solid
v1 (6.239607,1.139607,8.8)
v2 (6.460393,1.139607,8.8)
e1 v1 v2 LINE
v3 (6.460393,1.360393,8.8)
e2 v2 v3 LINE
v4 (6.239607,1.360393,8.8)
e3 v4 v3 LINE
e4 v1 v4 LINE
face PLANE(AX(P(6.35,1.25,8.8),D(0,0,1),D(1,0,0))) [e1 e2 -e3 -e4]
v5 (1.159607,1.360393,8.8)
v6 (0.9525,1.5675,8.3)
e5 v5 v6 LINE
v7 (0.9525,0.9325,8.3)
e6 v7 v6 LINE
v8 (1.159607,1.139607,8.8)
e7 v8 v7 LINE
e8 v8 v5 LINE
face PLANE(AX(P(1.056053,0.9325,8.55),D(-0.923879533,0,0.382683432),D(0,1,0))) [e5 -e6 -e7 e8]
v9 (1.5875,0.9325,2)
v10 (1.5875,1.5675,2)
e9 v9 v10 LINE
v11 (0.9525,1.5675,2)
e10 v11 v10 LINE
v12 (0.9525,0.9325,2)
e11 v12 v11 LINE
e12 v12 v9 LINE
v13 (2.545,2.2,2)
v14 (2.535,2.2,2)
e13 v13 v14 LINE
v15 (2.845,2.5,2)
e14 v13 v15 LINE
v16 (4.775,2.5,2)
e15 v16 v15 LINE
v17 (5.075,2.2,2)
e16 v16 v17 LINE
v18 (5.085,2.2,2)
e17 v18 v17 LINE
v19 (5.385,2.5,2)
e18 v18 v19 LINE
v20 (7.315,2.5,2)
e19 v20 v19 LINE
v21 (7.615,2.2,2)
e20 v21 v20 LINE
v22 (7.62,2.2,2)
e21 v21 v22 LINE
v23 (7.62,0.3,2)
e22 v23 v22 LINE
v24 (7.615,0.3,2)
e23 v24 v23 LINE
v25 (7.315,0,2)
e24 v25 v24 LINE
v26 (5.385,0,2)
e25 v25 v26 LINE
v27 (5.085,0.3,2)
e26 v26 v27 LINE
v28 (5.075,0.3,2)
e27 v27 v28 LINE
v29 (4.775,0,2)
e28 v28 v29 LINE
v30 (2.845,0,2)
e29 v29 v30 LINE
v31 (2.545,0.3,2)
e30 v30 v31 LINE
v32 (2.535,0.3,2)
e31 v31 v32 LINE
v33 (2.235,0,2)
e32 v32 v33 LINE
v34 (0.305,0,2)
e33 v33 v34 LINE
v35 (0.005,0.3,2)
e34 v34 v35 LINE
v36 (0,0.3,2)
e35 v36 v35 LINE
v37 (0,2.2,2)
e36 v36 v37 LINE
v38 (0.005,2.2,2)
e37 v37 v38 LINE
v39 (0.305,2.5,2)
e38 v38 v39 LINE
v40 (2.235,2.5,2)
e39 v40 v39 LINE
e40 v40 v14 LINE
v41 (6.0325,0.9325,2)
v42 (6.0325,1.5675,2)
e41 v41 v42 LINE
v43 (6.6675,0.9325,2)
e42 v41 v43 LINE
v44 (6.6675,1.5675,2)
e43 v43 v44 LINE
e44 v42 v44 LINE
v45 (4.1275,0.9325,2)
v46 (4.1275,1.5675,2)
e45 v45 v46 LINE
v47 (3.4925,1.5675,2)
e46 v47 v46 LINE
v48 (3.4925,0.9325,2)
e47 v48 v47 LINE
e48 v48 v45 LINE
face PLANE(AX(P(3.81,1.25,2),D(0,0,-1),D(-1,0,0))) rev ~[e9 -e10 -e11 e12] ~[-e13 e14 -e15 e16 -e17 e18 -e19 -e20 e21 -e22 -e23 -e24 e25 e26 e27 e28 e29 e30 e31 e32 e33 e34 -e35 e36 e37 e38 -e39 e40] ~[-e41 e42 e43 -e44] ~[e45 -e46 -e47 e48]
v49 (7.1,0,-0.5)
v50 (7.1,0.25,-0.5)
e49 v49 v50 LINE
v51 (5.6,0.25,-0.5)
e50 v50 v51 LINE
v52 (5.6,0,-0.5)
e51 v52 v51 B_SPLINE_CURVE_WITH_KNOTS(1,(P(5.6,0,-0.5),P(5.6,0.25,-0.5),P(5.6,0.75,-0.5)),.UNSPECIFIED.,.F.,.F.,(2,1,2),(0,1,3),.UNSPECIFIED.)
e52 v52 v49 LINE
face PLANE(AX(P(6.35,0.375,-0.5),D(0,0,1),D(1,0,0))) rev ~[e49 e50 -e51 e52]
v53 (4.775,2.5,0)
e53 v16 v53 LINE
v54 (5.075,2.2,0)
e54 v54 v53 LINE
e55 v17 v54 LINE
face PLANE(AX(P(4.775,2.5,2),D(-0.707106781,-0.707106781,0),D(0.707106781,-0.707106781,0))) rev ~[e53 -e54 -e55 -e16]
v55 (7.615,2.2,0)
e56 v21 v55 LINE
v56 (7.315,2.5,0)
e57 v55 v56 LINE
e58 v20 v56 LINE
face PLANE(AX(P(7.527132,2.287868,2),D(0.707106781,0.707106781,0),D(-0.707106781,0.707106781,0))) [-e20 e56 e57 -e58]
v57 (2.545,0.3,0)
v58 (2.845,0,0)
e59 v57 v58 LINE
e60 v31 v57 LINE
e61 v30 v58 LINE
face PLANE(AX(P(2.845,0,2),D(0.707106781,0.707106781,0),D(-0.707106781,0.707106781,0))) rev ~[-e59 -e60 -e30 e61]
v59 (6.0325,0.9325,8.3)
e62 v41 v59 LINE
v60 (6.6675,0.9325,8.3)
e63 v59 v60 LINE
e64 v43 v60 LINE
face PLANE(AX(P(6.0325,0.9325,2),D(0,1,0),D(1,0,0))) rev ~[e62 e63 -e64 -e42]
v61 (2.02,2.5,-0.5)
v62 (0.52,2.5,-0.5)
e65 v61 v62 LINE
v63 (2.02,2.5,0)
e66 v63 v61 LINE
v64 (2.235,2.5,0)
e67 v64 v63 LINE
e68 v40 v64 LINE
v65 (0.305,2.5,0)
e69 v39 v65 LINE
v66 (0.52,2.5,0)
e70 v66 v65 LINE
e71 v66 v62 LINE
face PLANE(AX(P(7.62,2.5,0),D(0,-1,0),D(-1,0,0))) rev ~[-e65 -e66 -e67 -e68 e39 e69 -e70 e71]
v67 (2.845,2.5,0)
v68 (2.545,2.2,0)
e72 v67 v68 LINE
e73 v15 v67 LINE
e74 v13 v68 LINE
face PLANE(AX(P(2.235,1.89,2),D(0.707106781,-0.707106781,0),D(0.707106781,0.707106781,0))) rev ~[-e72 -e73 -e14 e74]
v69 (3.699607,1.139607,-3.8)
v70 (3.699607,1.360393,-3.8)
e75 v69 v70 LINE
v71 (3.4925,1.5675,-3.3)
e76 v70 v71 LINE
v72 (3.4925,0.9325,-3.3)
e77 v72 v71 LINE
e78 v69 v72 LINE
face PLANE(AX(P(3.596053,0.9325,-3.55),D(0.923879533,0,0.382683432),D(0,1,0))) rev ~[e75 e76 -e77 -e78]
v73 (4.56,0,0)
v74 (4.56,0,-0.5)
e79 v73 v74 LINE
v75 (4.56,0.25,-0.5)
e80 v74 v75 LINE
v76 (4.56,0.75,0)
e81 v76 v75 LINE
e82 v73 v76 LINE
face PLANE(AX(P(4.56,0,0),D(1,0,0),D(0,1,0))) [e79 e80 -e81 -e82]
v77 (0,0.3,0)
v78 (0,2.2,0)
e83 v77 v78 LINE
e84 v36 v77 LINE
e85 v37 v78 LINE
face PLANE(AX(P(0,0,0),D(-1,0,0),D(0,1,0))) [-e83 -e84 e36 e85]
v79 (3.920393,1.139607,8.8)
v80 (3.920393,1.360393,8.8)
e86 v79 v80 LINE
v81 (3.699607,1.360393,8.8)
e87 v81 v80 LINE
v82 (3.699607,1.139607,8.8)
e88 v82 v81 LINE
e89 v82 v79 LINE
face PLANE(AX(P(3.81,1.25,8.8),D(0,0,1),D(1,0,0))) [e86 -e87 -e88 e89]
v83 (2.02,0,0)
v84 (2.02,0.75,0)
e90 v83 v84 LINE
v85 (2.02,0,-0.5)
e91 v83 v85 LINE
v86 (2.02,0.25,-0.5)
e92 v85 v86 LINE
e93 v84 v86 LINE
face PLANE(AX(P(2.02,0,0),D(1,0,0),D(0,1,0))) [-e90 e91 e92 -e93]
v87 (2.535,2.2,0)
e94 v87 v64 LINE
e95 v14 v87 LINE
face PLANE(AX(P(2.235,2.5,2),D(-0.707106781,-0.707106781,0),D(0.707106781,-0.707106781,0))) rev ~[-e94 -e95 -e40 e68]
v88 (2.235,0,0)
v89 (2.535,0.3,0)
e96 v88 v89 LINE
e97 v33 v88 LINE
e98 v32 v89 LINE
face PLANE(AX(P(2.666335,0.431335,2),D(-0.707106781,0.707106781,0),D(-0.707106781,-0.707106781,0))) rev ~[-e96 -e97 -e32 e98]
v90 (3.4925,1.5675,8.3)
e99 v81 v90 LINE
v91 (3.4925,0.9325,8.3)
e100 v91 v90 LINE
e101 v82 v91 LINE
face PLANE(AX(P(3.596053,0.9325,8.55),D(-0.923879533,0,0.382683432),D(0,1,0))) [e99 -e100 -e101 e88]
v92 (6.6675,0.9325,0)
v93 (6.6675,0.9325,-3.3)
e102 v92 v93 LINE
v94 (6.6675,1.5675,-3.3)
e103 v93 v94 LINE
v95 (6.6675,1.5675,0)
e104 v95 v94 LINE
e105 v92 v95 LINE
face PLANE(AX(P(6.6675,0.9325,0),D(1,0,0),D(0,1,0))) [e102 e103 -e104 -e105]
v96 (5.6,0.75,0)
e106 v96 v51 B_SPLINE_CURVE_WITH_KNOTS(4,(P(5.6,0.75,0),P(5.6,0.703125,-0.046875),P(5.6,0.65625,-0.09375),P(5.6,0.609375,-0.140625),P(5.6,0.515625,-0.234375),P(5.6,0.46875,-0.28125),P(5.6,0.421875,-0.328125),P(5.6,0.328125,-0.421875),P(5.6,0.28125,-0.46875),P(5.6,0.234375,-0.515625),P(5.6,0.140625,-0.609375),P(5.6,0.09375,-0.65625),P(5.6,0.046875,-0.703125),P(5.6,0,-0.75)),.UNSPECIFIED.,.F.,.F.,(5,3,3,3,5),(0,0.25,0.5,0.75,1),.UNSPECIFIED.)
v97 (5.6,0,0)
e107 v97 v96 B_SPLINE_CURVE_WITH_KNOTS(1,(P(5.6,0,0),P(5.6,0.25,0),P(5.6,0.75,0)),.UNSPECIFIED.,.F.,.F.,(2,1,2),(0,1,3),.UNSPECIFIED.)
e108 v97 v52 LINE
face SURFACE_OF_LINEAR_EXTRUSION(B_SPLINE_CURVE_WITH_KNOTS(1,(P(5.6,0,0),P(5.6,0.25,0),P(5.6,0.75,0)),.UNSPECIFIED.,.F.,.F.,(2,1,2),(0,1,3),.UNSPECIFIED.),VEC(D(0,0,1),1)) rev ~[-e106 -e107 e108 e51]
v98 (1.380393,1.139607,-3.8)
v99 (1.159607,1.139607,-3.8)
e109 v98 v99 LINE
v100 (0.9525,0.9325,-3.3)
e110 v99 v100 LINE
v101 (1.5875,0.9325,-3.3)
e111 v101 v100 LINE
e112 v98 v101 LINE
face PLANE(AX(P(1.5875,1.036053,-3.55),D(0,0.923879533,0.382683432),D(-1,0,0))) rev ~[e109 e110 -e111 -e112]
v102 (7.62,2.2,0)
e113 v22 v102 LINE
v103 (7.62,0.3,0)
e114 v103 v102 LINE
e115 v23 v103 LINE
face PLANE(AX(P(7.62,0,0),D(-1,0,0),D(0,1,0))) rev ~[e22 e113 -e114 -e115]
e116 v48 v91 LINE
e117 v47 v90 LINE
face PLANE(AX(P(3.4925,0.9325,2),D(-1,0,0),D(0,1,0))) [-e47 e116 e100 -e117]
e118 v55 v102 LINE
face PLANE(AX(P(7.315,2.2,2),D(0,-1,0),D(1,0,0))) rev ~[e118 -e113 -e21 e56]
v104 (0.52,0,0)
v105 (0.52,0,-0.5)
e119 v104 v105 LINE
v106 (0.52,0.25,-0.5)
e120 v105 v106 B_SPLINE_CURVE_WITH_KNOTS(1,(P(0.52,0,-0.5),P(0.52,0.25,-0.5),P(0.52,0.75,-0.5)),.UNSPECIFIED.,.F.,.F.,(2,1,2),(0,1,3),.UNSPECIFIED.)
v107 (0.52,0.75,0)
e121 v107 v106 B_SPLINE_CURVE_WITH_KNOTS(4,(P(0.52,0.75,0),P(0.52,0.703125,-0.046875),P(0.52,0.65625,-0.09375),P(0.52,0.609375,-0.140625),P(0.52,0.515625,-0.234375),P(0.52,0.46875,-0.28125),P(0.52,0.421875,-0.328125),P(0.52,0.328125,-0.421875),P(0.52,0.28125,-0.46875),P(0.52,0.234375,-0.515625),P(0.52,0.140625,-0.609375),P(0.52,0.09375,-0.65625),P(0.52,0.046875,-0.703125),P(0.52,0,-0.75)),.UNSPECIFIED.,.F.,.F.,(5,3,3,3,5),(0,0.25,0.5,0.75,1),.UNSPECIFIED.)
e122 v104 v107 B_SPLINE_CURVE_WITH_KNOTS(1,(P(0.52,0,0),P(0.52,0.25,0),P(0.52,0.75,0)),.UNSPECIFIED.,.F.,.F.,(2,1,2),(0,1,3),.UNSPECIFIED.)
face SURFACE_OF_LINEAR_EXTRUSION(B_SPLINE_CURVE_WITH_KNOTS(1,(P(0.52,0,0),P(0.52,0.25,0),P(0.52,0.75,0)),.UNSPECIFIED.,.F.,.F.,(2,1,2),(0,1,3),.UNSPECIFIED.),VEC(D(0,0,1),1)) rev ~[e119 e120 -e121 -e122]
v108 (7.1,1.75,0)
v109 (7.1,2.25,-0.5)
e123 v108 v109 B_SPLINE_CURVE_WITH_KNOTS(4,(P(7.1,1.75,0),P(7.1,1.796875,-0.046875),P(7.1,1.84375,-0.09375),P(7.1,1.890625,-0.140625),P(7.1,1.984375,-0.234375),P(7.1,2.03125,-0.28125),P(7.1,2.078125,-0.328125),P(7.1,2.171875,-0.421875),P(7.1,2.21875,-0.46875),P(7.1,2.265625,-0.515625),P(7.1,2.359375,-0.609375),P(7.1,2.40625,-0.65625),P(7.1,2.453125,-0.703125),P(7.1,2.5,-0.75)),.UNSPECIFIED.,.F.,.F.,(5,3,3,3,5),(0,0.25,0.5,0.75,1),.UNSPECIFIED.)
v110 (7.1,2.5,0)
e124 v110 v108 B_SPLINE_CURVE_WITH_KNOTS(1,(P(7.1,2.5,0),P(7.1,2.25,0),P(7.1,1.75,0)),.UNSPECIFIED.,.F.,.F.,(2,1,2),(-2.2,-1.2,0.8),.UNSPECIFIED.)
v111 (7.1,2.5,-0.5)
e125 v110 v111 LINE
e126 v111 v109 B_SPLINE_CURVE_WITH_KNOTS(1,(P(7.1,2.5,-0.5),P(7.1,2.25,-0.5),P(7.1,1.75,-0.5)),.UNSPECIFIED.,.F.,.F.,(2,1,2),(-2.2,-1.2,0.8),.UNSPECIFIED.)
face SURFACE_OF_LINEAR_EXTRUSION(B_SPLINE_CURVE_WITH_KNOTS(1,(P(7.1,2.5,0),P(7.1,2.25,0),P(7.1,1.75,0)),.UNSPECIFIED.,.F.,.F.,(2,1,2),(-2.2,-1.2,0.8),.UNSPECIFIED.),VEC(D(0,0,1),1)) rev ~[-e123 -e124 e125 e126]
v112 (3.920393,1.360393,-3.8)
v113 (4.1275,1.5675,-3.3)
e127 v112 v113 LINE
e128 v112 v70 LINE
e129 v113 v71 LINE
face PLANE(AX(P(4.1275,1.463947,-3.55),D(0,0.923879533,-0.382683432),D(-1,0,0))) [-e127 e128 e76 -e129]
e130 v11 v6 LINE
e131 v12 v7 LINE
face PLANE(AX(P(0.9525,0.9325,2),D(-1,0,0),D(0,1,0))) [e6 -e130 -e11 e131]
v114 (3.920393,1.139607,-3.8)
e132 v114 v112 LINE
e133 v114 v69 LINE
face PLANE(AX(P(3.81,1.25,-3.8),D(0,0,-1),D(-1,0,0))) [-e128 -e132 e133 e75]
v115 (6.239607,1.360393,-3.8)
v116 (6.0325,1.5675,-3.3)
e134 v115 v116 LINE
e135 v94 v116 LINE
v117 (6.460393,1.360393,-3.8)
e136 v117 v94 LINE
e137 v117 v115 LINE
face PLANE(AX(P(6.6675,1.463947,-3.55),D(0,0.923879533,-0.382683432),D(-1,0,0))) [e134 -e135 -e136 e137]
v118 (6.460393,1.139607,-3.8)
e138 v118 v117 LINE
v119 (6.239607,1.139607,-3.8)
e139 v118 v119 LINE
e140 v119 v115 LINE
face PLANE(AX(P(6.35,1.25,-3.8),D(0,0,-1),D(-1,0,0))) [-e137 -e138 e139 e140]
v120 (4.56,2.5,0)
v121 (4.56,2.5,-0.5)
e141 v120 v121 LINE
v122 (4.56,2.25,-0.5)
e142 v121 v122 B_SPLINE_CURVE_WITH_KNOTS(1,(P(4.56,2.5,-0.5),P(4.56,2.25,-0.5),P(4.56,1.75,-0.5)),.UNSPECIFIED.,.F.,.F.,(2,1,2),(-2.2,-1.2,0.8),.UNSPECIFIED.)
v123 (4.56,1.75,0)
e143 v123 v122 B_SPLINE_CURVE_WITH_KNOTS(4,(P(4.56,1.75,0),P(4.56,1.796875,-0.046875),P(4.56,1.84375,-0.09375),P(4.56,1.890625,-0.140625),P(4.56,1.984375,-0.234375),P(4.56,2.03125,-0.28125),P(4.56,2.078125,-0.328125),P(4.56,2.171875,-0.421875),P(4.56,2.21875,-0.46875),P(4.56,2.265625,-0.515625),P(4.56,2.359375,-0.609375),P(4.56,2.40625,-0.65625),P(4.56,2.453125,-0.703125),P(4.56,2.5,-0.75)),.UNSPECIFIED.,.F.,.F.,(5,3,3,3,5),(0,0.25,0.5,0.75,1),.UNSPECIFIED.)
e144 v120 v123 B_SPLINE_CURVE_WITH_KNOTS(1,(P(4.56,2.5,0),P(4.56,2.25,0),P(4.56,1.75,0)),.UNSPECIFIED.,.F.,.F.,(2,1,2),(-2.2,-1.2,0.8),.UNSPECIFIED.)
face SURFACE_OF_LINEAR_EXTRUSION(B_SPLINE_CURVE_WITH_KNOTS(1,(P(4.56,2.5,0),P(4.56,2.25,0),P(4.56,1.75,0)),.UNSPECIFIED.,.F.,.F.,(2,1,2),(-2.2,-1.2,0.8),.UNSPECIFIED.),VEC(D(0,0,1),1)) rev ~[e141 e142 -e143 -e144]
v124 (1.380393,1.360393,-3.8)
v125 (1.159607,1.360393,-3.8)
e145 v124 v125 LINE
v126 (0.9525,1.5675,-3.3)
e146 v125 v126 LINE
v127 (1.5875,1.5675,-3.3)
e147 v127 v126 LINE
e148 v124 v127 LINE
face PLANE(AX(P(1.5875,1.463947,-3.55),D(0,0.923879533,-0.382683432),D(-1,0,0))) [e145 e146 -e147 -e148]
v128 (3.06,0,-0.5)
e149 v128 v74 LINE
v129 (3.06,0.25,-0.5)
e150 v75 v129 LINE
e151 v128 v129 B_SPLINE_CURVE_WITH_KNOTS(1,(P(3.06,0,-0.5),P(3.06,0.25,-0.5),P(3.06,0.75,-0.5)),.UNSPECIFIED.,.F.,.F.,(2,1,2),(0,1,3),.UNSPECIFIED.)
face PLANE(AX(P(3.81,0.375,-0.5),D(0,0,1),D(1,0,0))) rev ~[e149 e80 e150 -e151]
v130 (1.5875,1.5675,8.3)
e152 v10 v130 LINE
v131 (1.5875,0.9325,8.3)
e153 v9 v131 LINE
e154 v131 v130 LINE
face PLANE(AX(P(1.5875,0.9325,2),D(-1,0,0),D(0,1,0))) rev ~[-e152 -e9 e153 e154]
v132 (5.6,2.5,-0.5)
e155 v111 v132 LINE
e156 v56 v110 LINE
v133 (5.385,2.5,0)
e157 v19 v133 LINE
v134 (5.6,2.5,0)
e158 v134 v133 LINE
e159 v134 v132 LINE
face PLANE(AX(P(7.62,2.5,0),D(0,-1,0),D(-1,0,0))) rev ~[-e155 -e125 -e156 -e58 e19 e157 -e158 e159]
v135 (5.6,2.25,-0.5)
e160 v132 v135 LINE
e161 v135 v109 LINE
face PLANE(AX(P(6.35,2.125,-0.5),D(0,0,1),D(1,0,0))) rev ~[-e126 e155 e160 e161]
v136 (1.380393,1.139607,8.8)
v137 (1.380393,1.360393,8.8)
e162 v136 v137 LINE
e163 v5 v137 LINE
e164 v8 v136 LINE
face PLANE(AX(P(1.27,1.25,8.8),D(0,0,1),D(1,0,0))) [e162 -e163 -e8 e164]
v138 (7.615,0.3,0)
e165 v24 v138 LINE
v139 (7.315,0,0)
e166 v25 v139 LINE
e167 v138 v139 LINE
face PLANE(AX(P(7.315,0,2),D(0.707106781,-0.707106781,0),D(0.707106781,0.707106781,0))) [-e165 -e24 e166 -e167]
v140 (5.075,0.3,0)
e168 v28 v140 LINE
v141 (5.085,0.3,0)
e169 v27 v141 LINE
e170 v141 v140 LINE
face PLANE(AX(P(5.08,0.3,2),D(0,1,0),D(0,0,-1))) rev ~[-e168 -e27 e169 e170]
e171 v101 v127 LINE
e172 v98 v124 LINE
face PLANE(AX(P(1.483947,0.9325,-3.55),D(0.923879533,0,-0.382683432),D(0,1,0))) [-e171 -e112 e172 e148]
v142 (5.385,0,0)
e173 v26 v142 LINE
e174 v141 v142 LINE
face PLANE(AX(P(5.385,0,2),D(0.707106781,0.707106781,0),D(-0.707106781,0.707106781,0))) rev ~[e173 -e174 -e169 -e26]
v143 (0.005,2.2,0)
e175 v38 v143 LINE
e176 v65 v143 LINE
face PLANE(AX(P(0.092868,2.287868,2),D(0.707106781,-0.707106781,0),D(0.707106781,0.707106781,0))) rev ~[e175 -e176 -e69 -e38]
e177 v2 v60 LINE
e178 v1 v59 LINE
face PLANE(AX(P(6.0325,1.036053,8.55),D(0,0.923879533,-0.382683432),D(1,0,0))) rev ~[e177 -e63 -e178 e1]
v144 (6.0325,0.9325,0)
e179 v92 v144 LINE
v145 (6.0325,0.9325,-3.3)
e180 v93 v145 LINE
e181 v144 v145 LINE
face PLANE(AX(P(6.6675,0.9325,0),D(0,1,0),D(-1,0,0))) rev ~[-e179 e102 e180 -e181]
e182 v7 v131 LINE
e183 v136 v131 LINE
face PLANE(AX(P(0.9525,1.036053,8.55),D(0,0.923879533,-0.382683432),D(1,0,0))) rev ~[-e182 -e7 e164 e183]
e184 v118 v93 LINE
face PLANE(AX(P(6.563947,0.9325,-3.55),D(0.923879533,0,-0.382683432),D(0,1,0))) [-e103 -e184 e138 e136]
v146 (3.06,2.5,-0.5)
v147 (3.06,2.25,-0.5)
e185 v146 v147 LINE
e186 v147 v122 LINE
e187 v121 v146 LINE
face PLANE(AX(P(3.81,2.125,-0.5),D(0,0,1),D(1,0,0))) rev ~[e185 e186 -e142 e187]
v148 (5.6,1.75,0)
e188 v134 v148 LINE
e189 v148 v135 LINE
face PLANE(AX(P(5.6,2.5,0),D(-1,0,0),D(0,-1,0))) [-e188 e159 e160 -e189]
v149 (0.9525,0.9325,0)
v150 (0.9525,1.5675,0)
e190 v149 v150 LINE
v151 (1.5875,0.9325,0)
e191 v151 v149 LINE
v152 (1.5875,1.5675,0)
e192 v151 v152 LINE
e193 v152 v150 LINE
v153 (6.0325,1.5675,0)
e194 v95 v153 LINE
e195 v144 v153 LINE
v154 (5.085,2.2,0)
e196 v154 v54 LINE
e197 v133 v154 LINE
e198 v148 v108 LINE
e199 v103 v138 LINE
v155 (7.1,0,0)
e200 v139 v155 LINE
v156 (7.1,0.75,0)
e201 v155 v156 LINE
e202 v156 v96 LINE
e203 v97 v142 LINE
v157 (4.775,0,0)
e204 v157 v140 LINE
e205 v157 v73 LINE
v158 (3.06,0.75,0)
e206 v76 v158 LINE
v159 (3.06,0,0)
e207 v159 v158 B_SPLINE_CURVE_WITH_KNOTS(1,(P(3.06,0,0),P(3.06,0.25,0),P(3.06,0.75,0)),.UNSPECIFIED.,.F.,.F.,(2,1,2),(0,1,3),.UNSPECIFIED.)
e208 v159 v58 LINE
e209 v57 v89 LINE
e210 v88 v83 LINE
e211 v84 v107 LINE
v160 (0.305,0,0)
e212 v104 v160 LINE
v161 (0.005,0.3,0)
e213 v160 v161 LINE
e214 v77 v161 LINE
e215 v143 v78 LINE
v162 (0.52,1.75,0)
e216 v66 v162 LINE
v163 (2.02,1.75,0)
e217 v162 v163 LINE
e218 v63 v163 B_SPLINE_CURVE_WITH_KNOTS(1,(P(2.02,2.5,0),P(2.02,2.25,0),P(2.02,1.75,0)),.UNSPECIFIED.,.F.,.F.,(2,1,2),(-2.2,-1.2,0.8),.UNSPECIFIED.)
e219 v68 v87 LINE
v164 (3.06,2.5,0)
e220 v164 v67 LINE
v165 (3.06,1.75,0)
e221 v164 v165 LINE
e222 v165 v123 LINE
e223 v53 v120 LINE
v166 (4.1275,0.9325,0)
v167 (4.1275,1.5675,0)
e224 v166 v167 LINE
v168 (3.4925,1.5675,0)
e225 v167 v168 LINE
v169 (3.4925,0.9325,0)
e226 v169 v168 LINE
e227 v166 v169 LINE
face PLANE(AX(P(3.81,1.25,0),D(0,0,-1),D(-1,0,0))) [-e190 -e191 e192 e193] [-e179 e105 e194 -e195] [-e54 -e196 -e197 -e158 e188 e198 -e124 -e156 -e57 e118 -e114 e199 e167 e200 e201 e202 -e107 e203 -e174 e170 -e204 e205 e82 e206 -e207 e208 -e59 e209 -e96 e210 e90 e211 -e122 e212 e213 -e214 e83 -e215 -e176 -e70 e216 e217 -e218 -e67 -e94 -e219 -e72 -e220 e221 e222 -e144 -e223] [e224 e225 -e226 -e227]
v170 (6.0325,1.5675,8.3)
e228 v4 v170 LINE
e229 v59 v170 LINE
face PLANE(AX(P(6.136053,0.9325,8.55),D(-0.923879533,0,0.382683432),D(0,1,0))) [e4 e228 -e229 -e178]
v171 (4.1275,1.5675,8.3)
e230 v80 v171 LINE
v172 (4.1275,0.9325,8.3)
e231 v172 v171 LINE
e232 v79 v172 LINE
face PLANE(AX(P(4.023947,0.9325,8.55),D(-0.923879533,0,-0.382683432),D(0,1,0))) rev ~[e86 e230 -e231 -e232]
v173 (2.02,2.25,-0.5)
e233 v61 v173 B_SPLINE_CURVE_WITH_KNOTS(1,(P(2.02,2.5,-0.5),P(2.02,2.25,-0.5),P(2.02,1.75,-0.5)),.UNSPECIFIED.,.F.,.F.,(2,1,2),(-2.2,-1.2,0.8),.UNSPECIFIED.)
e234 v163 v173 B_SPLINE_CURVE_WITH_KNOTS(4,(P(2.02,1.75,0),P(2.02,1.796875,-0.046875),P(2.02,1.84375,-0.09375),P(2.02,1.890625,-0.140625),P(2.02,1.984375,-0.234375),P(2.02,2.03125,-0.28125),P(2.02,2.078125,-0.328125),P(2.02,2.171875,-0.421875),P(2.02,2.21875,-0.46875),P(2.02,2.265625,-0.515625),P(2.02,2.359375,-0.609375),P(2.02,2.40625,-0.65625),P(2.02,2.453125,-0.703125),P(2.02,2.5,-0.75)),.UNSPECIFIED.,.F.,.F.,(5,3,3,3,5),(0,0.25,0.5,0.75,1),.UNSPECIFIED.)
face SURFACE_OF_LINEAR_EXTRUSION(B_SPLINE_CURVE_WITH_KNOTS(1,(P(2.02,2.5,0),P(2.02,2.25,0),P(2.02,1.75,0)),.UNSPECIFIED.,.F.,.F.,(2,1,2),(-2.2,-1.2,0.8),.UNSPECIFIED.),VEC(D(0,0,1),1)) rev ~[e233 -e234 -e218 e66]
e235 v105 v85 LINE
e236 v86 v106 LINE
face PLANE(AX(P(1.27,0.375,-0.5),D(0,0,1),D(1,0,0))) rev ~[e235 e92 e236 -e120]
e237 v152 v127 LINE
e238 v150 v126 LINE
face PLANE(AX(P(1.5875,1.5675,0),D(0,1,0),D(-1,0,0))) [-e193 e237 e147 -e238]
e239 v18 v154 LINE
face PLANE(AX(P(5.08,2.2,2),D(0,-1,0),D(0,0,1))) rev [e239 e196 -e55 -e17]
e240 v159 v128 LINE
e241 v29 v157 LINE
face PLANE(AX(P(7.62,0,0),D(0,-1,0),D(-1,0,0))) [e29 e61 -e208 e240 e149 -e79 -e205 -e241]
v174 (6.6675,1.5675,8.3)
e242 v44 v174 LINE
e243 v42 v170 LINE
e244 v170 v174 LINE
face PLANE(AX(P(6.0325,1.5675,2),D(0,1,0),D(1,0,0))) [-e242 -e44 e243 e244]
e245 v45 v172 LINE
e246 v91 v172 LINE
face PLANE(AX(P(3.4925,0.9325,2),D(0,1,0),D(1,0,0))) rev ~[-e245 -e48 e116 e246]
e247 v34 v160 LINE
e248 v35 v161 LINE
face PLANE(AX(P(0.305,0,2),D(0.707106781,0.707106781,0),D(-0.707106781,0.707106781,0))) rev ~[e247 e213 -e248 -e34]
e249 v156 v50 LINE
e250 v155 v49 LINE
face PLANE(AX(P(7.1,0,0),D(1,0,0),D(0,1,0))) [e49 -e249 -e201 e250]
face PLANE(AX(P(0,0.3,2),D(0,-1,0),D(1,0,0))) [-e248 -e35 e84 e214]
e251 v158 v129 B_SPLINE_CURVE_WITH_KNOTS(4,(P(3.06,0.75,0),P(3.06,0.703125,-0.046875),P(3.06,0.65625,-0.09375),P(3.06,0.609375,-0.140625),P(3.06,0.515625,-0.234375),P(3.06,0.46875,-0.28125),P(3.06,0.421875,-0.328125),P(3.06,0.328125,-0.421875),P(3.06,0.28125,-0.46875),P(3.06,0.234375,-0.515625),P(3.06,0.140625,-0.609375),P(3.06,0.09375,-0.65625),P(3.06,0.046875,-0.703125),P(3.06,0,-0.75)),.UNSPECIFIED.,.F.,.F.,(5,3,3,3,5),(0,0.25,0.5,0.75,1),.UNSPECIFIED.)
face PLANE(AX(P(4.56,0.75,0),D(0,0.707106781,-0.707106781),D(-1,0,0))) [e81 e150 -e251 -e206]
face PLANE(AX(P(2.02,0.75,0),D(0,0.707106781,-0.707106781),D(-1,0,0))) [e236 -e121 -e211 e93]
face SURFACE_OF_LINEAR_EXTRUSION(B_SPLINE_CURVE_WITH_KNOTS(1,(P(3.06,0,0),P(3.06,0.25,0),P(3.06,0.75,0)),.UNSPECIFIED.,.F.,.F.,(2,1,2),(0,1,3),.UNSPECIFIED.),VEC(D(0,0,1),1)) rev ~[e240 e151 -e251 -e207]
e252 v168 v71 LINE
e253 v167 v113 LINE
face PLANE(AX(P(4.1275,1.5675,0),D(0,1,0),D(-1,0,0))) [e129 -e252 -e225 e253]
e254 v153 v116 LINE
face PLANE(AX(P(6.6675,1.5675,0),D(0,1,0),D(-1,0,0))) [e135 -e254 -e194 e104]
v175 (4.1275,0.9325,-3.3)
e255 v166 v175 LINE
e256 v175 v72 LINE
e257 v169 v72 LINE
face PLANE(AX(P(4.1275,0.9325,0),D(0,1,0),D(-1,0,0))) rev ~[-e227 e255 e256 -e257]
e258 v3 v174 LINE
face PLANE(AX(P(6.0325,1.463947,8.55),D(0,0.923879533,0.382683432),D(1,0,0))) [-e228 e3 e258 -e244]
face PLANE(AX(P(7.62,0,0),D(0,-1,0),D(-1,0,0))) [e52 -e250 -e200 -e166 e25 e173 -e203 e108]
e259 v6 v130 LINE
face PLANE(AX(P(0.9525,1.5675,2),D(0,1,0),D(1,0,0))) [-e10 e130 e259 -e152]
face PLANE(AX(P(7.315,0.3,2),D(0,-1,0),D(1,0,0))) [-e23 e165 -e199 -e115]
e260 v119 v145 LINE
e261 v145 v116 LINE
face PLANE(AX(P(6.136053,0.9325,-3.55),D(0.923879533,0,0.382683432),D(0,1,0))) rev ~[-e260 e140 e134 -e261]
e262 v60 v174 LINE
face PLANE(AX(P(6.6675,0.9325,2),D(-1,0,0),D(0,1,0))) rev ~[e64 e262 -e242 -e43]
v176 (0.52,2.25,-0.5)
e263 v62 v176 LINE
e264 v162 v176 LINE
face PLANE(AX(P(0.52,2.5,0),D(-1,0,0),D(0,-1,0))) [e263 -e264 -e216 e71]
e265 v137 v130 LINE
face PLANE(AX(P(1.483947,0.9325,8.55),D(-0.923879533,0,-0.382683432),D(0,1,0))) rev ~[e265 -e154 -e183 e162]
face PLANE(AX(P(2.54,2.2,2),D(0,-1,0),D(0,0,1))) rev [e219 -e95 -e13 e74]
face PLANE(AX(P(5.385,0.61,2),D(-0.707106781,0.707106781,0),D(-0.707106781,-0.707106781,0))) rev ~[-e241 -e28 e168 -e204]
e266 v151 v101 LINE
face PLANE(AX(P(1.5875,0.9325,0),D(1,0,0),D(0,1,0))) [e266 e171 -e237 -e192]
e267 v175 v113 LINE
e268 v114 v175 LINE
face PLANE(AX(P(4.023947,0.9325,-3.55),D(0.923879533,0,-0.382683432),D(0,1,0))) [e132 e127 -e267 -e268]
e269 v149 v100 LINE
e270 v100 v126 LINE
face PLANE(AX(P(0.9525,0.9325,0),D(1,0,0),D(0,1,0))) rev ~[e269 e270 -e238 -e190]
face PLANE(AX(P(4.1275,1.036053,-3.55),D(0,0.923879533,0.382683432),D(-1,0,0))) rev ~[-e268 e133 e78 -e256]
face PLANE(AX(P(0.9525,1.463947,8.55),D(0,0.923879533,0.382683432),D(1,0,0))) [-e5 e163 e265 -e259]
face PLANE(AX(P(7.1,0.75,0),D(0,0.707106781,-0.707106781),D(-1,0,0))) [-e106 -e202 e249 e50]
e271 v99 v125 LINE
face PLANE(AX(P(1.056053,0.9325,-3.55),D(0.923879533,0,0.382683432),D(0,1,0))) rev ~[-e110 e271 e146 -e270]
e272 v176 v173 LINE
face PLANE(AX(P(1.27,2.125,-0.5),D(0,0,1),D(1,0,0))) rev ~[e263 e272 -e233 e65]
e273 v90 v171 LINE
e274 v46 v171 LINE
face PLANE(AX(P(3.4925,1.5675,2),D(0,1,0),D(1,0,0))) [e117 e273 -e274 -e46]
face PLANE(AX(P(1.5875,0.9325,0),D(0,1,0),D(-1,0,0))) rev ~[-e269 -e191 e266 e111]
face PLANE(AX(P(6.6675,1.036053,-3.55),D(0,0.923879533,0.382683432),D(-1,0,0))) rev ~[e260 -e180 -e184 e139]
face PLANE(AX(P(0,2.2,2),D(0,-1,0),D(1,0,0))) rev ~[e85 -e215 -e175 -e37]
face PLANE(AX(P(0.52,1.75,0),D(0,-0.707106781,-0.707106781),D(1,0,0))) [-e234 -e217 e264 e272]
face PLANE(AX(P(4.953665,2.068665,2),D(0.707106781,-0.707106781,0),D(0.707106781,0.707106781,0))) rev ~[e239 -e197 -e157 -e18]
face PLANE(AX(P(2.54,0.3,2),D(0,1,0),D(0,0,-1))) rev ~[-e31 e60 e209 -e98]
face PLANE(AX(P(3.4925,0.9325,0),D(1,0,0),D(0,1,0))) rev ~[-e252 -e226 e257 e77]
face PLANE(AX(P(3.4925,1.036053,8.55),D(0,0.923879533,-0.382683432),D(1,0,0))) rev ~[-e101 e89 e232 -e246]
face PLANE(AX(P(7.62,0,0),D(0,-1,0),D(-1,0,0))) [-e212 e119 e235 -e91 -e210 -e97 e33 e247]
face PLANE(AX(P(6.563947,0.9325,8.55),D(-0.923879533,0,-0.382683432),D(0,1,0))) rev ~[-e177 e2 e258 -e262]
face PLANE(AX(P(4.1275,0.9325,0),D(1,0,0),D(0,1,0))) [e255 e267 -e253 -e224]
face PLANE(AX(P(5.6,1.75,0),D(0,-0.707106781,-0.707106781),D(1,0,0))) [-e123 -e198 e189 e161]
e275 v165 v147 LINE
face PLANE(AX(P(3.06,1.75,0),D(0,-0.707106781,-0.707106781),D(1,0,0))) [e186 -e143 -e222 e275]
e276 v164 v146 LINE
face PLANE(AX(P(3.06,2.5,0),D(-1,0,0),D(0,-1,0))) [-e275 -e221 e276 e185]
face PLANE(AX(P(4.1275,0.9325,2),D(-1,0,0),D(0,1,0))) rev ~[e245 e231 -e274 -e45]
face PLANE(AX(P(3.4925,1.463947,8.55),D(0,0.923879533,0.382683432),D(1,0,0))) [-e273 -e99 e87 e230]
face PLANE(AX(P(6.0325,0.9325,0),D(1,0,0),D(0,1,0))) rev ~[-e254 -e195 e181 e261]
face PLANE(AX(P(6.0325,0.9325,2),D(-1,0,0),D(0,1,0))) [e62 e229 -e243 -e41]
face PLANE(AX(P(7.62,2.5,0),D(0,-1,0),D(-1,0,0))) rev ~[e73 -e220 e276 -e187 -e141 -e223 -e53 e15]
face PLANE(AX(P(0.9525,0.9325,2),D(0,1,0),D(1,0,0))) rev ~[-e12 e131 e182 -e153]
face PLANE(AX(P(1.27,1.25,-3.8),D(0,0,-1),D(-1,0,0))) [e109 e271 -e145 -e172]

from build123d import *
from OCP.BRepFilletAPI import BRepFilletAPI_MakeChamfer

# Parameters (mm, degrees)
SKETCH1_W            = 7.62
SKETCH1_H            = 2.5
BOSS_EXTRUDE1_DEPTH  = 2
CUT_EXTRUDE1_DEPTH   = 9.265252567
SKETCH3_W            = 0.305
SKETCH3_H            = 0.3
CUT_EXTRUDE2_DEPTH   = 2
SKETCH4_W            = 0.305
SKETCH4_H            = 0.3
CUT_EXTRUDE3_DEPTH   = 9.265252567
CUT_EXTRUDE4_DEPTH   = 9.265252567
CUT_EXTRUDE5_DEPTH   = 9.265252567
SKETCH7_W            = 0.305
SKETCH7_H            = 0.3
CUT_EXTRUDE6_DEPTH   = 2
SKETCH8_W            = 0.305
SKETCH8_H            = 0.3
CUT_EXTRUDE7_DEPTH   = 9.265252567
CUT_EXTRUDE8_DEPTH   = 9.265252567
SKETCH10_W           = 0.635
SKETCH10_H           = 0.635
BOSS_EXTRUDE2_DEPTH  = 3.8
SKETCH11_W           = 0.635
SKETCH11_H           = 0.635
BOSS_EXTRUDE3_DEPTH  = 3.8
BOSS_EXTRUDE4_DEPTH  = 0.5
BOSS_EXTRUDE5_DEPTH  = 0.5
BOSS_EXTRUDE6_DEPTH  = 0.5
BOSS_EXTRUDE7_DEPTH  = 0.5
BOSS_EXTRUDE8_DEPTH  = 0.5
BOSS_EXTRUDE9_DEPTH  = 0.5
SKETCH18_W           = 0.635
SKETCH18_H           = 0.635
BOSS_EXTRUDE10_DEPTH = 3.8
SKETCH19_W           = 0.635
SKETCH19_H           = 0.635
BOSS_EXTRUDE11_DEPTH = 6.8
SKETCH20_W           = 0.635
SKETCH20_H           = 0.635
BOSS_EXTRUDE12_DEPTH = 6.8
SKETCH21_W           = 0.635
SKETCH21_H           = 0.635
BOSS_EXTRUDE13_DEPTH = 6.8
DRAFT1_ANGLE         = 45
DRAFT2_ANGLE         = 45
DRAFT3_ANGLE         = 45
DRAFT4_ANGLE         = 45
DRAFT5_ANGLE         = 45
CHAMFER1_SIZE        = 0.007071068
CHAMFER2_SIZE        = 0.207106781
CHAMFER2_SIZE2       = 0.5


with BuildPart() as part:
    # Sketch1 → Boss-Extrude1 (new body)
    with BuildSketch(Plane(origin=(0, 0, 0), x_dir=(-1, 0, 0), z_dir=(0, 0, -1))):
        with Locations((-3.81, 1.25)):
            Rectangle(SKETCH1_W, SKETCH1_H)
    extrude(amount=-BOSS_EXTRUDE1_DEPTH)

    # Sketch2 → Cut-Extrude1 (cut, through all)
    with BuildSketch(Plane.XY.offset(2)):
        Polygon((4.775, 2.5), (5.385, 1.89), (5.385, 2.5), align=None)
    extrude(amount=-CUT_EXTRUDE1_DEPTH, mode=Mode.SUBTRACT)

    # Sketch3 → Cut-Extrude2 (cut)
    with BuildSketch(Plane.XY.offset(2)):
        with Locations((7.4675, 2.35)):
            Rectangle(SKETCH3_W, SKETCH3_H)
    extrude(amount=-CUT_EXTRUDE2_DEPTH, mode=Mode.SUBTRACT)

    # Sketch4 → Cut-Extrude3 (cut, through all)
    with BuildSketch(Plane.XY.offset(2)):
        with Locations((7.4675, 0.15)):
            Rectangle(SKETCH4_W, SKETCH4_H)
    extrude(amount=-CUT_EXTRUDE3_DEPTH, mode=Mode.SUBTRACT)

    # Sketch5 → Cut-Extrude4 (cut, through all)
    with BuildSketch(Plane.XY.offset(2)):
        Polygon((5.385, 0), (5.385, 0.61), (4.775, 0), align=None)
    extrude(amount=-CUT_EXTRUDE4_DEPTH, mode=Mode.SUBTRACT)

    # Sketch6 → Cut-Extrude5 (cut, through all)
    with BuildSketch(Plane.XY.offset(2)):
        Polygon((2.845, 0), (2.235, 0.61), (2.235, 0), align=None)
    extrude(amount=-CUT_EXTRUDE5_DEPTH, mode=Mode.SUBTRACT)

    # Sketch7 → Cut-Extrude6 (cut)
    with BuildSketch(Plane.XY.offset(2)):
        with Locations((0.1525, 0.15)):
            Rectangle(SKETCH7_W, SKETCH7_H)
    extrude(amount=-CUT_EXTRUDE6_DEPTH, mode=Mode.SUBTRACT)

    # Sketch8 → Cut-Extrude7 (cut, through all)
    with BuildSketch(Plane.XY.offset(2)):
        with Locations((0.1525, 2.35)):
            Rectangle(SKETCH8_W, SKETCH8_H)
    extrude(amount=-CUT_EXTRUDE7_DEPTH, mode=Mode.SUBTRACT)

    # Sketch9 → Cut-Extrude8 (cut, through all)
    with BuildSketch(Plane.XY.offset(2)):
        Polygon((2.235, 2.5), (2.235, 1.89), (2.845, 2.5), align=None)
    extrude(amount=-CUT_EXTRUDE8_DEPTH, mode=Mode.SUBTRACT)

    # Sketch10 → Boss-Extrude2 (add)
    with BuildSketch(Plane(origin=(0, 0, 0), x_dir=(-1, 0, 0), z_dir=(0, 0, -1))):
        with Locations((-6.35, 1.25)):
            Rectangle(SKETCH10_W, SKETCH10_H)
    extrude(amount=BOSS_EXTRUDE2_DEPTH)

    # Sketch11 → Boss-Extrude3 (add)
    with BuildSketch(Plane(origin=(0, 0, 0), x_dir=(-1, 0, 0), z_dir=(0, 0, -1))):
        with Locations((-3.81, 1.25)):
            Rectangle(SKETCH11_W, SKETCH11_H)
    extrude(amount=BOSS_EXTRUDE3_DEPTH)

    # Sketch12 → Boss-Extrude4 (add)
    with BuildSketch(Plane(origin=(0, 0, 0), x_dir=(-1, 0, 0), z_dir=(0, 0, -1))):
        with BuildLine():
            Line((-5.6, 0), (-7.1, 0))
            Line((-7.1, 0), (-7.1, 0.75))
            Line((-7.1, 0.75), (-5.6, 0.75))
            add(Edge.make_bspline(
                [(-5.6, 0), (-5.6, 0.25), (-5.6, 0.75)],
                knots=[0, 0, 1, 3, 3], degree=1))
        make_face()
    extrude(amount=BOSS_EXTRUDE4_DEPTH)

    # Sketch13 → Boss-Extrude5 (add)
    with BuildSketch(Plane(origin=(0, 0, 0), x_dir=(-1, 0, 0), z_dir=(0, 0, -1))):
        with BuildLine():
            Line((-3.06, 0), (-4.56, 0))
            Line((-4.56, 0), (-4.56, 0.75))
            Line((-4.56, 0.75), (-3.06, 0.75))
            add(Edge.make_bspline(
                [(-3.06, 0), (-3.06, 0.25), (-3.06, 0.75)],
                knots=[0, 0, 1, 3, 3], degree=1))
        make_face()
    extrude(amount=BOSS_EXTRUDE5_DEPTH)

    # Sketch14 → Boss-Extrude6 (add)
    with BuildSketch(Plane(origin=(0, 0, 0), x_dir=(-1, 0, 0), z_dir=(0, 0, -1))):
        with BuildLine():
            Line((-0.52, 0), (-2.02, 0))
            Line((-2.02, 0), (-2.02, 0.75))
            Line((-2.02, 0.75), (-0.52, 0.75))
            add(Edge.make_bspline(
                [(-0.52, 0), (-0.52, 0.25), (-0.52, 0.75)],
                knots=[0, 0, 1, 3, 3], degree=1))
        make_face()
    extrude(amount=BOSS_EXTRUDE6_DEPTH)

    # Sketch15 → Boss-Extrude7 (add)
    with BuildSketch(Plane(origin=(0, 0, 0), x_dir=(-1, 0, 0), z_dir=(0, 0, -1))):
        with BuildLine():
            Line((-5.6, 1.75), (-7.1, 1.75))
            add(Edge.make_bspline(
                [(-7.1, 2.5), (-7.1, 2.25), (-7.1, 1.75)],
                knots=[-2.2, -2.2, -1.2, 0.8, 0.8], degree=1))
            Line((-7.1, 2.5), (-5.6, 2.5))
            Line((-5.6, 2.5), (-5.6, 1.75))
        make_face()
    extrude(amount=BOSS_EXTRUDE7_DEPTH)

    # Sketch16 → Boss-Extrude8 (add)
    with BuildSketch(Plane(origin=(0, 0, 0), x_dir=(-1, 0, 0), z_dir=(0, 0, -1))):
        with BuildLine():
            Line((-3.06, 1.75), (-4.56, 1.75))
            add(Edge.make_bspline(
                [(-4.56, 2.5), (-4.56, 2.25), (-4.56, 1.75)],
                knots=[-2.2, -2.2, -1.2, 0.8, 0.8], degree=1))
            Line((-4.56, 2.5), (-3.06, 2.5))
            Line((-3.06, 2.5), (-3.06, 1.75))
        make_face()
    extrude(amount=BOSS_EXTRUDE8_DEPTH)

    # Sketch17 → Boss-Extrude9 (add)
    with BuildSketch(Plane(origin=(0, 0, 0), x_dir=(-1, 0, 0), z_dir=(0, 0, -1))):
        with BuildLine():
            Line((-0.52, 1.75), (-2.02, 1.75))
            add(Edge.make_bspline(
                [(-2.02, 2.5), (-2.02, 2.25), (-2.02, 1.75)],
                knots=[-2.2, -2.2, -1.2, 0.8, 0.8], degree=1))
            Line((-2.02, 2.5), (-0.52, 2.5))
            Line((-0.52, 2.5), (-0.52, 1.75))
        make_face()
    extrude(amount=BOSS_EXTRUDE9_DEPTH)

    # Sketch18 → Boss-Extrude10 (add)
    with BuildSketch(Plane(origin=(0, 0, 0), x_dir=(-1, 0, 0), z_dir=(0, 0, -1))):
        with Locations((-1.27, 1.25)):
            Rectangle(SKETCH18_W, SKETCH18_H)
    extrude(amount=BOSS_EXTRUDE10_DEPTH)

    # Sketch19 → Boss-Extrude11 (add)
    with BuildSketch(Plane.XY.offset(2)):
        with Locations((6.35, 1.25)):
            Rectangle(SKETCH19_W, SKETCH19_H)
    extrude(amount=BOSS_EXTRUDE11_DEPTH)

    # Sketch20 → Boss-Extrude12 (add)
    with BuildSketch(Plane.XY.offset(2)):
        with Locations((3.81, 1.25)):
            Rectangle(SKETCH20_W, SKETCH20_H)
    extrude(amount=BOSS_EXTRUDE12_DEPTH)

    # Sketch21 → Boss-Extrude13 (add)
    with BuildSketch(Plane.XY.offset(2)):
        with Locations((1.27, 1.25)):
            Rectangle(SKETCH21_W, SKETCH21_H)
    extrude(amount=BOSS_EXTRUDE13_DEPTH)

    # Draft1
    draft1_faces = [part.faces().sort_by_distance(p)[0] for p in [
        (2.235, 2.195, 1),
        (0.305, 2.35, 1),
    ]]
    draft(draft1_faces, Plane(origin=(0, 2.5, 2), x_dir=(0, 0, 1), z_dir=(0, 1, 0)), DRAFT1_ANGLE)

    # Draft2
    draft2_faces = [part.faces().sort_by_distance(p)[0] for p in [
        (7.315, 2.35, 1),
        (5.385, 2.195, 1),
    ]]
    draft(draft2_faces, Plane(origin=(0, 2.5, 2), x_dir=(0, 0, 1), z_dir=(0, 1, 0)), DRAFT2_ANGLE)

    # Draft3
    draft3_faces = [part.faces().sort_by_distance(p)[0] for p in [
        (5.385, 0.305, 1),
        (7.315, 0.15, 1),
    ]]
    draft(draft3_faces, Plane(origin=(7.62, 0, 2), x_dir=(0, 0, -1), z_dir=(0, -1, 0)), DRAFT3_ANGLE)

    # Draft4
    draft4_faces = [part.faces().sort_by_distance(p)[0] for p in [
        (0.305, 0.15, 1),
        (2.235, 0.305, 1),
    ]]
    draft(draft4_faces, Plane(origin=(7.62, 0, 2), x_dir=(0, 0, -1), z_dir=(0, -1, 0)), DRAFT4_ANGLE)

    # Draft5
    draft5_faces = [part.faces().sort_by_distance(p)[0] for p in [
        (1.27, 0.75, -0.25),
        (3.81, 0.75, -0.25),
        (6.35, 0.75, -0.25),
        (6.35, 1.75, -0.25),
        (3.81, 1.75, -0.25),
        (1.27, 1.75, -0.25),
    ]]
    draft(draft5_faces, Plane(origin=(0, 0, 0), x_dir=(-1, 0, 0), z_dir=(0, 0, -1)), DRAFT5_ANGLE)

    # Chamfer1
    chamfer1_edges = [part.edges().sort_by_distance(p)[0] for p in [
        (2.54, 2.195, 1),
        (5.08, 2.195, 1),
        (5.08, 0.305, 1),
        (2.54, 0.305, 1),
    ]]
    chamfer(chamfer1_edges, length=CHAMFER1_SIZE)

    # Chamfer2: one chamfer whose edges measure the first distance from different faces: ONE call of the kernel's chamfer builder (chamfer() names one face for all edges)
    chamfer2_edges_1 = [part.edges().sort_by_distance(p)[0] for p in [
        (6.6675, 1.25, -3.8),
        (6.35, 0.9325, -3.8),
        (6.0325, 1.25, -3.8),
        (6.35, 1.5675, -3.8),
    ]]
    chamfer2_side_1 = [part.faces().sort_by_distance(p)[0] for p in [
        (6.35, 1.25, -3.8),
    ]]
    chamfer2_edges_2 = [part.edges().sort_by_distance(p)[0] for p in [
        (3.81, 0.9325, -3.8),
        (3.4925, 1.25, -3.8),
        (3.81, 1.5675, -3.8),
        (4.1275, 1.25, -3.8),
    ]]
    chamfer2_side_2 = [part.faces().sort_by_distance(p)[0] for p in [
        (3.81, 1.25, -3.8),
    ]]
    chamfer2_edges_3 = [part.edges().sort_by_distance(p)[0] for p in [
        (1.27, 0.9325, -3.8),
        (0.9525, 1.25, -3.8),
        (1.27, 1.5675, -3.8),
        (1.5875, 1.25, -3.8),
    ]]
    chamfer2_side_3 = [part.faces().sort_by_distance(p)[0] for p in [
        (1.27, 1.25, -3.8),
    ]]
    chamfer2_edges_4 = [part.edges().sort_by_distance(p)[0] for p in [
        (6.0325, 1.25, 8.8),
        (6.35, 0.9325, 8.8),
        (6.6675, 1.25, 8.8),
        (6.35, 1.5675, 8.8),
    ]]
    chamfer2_side_4 = [part.faces().sort_by_distance(p)[0] for p in [
        (6.35, 1.25, 8.8),
    ]]
    chamfer2_edges_5 = [part.edges().sort_by_distance(p)[0] for p in [
        (3.4925, 1.25, 8.8),
        (3.81, 0.9325, 8.8),
        (4.1275, 1.25, 8.8),
        (3.81, 1.5675, 8.8),
    ]]
    chamfer2_side_5 = [part.faces().sort_by_distance(p)[0] for p in [
        (3.81, 1.25, 8.8),
    ]]
    chamfer2_edges_6 = [part.edges().sort_by_distance(p)[0] for p in [
        (0.9525, 1.25, 8.8),
        (1.27, 0.9325, 8.8),
        (1.5875, 1.25, 8.8),
        (1.27, 1.5675, 8.8),
    ]]
    chamfer2_side_6 = [part.faces().sort_by_distance(p)[0] for p in [
        (1.27, 1.25, 8.8),
    ]]
    chamfer2 = BRepFilletAPI_MakeChamfer(part.part.solid().wrapped)
    for e in chamfer2_edges_1:
        chamfer2.Add(CHAMFER2_SIZE, CHAMFER2_SIZE2, e.wrapped, chamfer2_side_1[0].wrapped)  # the first distance lies on this face
    for e in chamfer2_edges_2:
        chamfer2.Add(CHAMFER2_SIZE, CHAMFER2_SIZE2, e.wrapped, chamfer2_side_2[0].wrapped)  # the first distance lies on this face
    for e in chamfer2_edges_3:
        chamfer2.Add(CHAMFER2_SIZE, CHAMFER2_SIZE2, e.wrapped, chamfer2_side_3[0].wrapped)  # the first distance lies on this face
    for e in chamfer2_edges_4:
        chamfer2.Add(CHAMFER2_SIZE, CHAMFER2_SIZE2, e.wrapped, chamfer2_side_4[0].wrapped)  # the first distance lies on this face
    for e in chamfer2_edges_5:
        chamfer2.Add(CHAMFER2_SIZE, CHAMFER2_SIZE2, e.wrapped, chamfer2_side_5[0].wrapped)  # the first distance lies on this face
    for e in chamfer2_edges_6:
        chamfer2.Add(CHAMFER2_SIZE, CHAMFER2_SIZE2, e.wrapped, chamfer2_side_6[0].wrapped)  # the first distance lies on this face
    add(Compound.cast(chamfer2.Shape()), mode=Mode.REPLACE)


solid = part.part
